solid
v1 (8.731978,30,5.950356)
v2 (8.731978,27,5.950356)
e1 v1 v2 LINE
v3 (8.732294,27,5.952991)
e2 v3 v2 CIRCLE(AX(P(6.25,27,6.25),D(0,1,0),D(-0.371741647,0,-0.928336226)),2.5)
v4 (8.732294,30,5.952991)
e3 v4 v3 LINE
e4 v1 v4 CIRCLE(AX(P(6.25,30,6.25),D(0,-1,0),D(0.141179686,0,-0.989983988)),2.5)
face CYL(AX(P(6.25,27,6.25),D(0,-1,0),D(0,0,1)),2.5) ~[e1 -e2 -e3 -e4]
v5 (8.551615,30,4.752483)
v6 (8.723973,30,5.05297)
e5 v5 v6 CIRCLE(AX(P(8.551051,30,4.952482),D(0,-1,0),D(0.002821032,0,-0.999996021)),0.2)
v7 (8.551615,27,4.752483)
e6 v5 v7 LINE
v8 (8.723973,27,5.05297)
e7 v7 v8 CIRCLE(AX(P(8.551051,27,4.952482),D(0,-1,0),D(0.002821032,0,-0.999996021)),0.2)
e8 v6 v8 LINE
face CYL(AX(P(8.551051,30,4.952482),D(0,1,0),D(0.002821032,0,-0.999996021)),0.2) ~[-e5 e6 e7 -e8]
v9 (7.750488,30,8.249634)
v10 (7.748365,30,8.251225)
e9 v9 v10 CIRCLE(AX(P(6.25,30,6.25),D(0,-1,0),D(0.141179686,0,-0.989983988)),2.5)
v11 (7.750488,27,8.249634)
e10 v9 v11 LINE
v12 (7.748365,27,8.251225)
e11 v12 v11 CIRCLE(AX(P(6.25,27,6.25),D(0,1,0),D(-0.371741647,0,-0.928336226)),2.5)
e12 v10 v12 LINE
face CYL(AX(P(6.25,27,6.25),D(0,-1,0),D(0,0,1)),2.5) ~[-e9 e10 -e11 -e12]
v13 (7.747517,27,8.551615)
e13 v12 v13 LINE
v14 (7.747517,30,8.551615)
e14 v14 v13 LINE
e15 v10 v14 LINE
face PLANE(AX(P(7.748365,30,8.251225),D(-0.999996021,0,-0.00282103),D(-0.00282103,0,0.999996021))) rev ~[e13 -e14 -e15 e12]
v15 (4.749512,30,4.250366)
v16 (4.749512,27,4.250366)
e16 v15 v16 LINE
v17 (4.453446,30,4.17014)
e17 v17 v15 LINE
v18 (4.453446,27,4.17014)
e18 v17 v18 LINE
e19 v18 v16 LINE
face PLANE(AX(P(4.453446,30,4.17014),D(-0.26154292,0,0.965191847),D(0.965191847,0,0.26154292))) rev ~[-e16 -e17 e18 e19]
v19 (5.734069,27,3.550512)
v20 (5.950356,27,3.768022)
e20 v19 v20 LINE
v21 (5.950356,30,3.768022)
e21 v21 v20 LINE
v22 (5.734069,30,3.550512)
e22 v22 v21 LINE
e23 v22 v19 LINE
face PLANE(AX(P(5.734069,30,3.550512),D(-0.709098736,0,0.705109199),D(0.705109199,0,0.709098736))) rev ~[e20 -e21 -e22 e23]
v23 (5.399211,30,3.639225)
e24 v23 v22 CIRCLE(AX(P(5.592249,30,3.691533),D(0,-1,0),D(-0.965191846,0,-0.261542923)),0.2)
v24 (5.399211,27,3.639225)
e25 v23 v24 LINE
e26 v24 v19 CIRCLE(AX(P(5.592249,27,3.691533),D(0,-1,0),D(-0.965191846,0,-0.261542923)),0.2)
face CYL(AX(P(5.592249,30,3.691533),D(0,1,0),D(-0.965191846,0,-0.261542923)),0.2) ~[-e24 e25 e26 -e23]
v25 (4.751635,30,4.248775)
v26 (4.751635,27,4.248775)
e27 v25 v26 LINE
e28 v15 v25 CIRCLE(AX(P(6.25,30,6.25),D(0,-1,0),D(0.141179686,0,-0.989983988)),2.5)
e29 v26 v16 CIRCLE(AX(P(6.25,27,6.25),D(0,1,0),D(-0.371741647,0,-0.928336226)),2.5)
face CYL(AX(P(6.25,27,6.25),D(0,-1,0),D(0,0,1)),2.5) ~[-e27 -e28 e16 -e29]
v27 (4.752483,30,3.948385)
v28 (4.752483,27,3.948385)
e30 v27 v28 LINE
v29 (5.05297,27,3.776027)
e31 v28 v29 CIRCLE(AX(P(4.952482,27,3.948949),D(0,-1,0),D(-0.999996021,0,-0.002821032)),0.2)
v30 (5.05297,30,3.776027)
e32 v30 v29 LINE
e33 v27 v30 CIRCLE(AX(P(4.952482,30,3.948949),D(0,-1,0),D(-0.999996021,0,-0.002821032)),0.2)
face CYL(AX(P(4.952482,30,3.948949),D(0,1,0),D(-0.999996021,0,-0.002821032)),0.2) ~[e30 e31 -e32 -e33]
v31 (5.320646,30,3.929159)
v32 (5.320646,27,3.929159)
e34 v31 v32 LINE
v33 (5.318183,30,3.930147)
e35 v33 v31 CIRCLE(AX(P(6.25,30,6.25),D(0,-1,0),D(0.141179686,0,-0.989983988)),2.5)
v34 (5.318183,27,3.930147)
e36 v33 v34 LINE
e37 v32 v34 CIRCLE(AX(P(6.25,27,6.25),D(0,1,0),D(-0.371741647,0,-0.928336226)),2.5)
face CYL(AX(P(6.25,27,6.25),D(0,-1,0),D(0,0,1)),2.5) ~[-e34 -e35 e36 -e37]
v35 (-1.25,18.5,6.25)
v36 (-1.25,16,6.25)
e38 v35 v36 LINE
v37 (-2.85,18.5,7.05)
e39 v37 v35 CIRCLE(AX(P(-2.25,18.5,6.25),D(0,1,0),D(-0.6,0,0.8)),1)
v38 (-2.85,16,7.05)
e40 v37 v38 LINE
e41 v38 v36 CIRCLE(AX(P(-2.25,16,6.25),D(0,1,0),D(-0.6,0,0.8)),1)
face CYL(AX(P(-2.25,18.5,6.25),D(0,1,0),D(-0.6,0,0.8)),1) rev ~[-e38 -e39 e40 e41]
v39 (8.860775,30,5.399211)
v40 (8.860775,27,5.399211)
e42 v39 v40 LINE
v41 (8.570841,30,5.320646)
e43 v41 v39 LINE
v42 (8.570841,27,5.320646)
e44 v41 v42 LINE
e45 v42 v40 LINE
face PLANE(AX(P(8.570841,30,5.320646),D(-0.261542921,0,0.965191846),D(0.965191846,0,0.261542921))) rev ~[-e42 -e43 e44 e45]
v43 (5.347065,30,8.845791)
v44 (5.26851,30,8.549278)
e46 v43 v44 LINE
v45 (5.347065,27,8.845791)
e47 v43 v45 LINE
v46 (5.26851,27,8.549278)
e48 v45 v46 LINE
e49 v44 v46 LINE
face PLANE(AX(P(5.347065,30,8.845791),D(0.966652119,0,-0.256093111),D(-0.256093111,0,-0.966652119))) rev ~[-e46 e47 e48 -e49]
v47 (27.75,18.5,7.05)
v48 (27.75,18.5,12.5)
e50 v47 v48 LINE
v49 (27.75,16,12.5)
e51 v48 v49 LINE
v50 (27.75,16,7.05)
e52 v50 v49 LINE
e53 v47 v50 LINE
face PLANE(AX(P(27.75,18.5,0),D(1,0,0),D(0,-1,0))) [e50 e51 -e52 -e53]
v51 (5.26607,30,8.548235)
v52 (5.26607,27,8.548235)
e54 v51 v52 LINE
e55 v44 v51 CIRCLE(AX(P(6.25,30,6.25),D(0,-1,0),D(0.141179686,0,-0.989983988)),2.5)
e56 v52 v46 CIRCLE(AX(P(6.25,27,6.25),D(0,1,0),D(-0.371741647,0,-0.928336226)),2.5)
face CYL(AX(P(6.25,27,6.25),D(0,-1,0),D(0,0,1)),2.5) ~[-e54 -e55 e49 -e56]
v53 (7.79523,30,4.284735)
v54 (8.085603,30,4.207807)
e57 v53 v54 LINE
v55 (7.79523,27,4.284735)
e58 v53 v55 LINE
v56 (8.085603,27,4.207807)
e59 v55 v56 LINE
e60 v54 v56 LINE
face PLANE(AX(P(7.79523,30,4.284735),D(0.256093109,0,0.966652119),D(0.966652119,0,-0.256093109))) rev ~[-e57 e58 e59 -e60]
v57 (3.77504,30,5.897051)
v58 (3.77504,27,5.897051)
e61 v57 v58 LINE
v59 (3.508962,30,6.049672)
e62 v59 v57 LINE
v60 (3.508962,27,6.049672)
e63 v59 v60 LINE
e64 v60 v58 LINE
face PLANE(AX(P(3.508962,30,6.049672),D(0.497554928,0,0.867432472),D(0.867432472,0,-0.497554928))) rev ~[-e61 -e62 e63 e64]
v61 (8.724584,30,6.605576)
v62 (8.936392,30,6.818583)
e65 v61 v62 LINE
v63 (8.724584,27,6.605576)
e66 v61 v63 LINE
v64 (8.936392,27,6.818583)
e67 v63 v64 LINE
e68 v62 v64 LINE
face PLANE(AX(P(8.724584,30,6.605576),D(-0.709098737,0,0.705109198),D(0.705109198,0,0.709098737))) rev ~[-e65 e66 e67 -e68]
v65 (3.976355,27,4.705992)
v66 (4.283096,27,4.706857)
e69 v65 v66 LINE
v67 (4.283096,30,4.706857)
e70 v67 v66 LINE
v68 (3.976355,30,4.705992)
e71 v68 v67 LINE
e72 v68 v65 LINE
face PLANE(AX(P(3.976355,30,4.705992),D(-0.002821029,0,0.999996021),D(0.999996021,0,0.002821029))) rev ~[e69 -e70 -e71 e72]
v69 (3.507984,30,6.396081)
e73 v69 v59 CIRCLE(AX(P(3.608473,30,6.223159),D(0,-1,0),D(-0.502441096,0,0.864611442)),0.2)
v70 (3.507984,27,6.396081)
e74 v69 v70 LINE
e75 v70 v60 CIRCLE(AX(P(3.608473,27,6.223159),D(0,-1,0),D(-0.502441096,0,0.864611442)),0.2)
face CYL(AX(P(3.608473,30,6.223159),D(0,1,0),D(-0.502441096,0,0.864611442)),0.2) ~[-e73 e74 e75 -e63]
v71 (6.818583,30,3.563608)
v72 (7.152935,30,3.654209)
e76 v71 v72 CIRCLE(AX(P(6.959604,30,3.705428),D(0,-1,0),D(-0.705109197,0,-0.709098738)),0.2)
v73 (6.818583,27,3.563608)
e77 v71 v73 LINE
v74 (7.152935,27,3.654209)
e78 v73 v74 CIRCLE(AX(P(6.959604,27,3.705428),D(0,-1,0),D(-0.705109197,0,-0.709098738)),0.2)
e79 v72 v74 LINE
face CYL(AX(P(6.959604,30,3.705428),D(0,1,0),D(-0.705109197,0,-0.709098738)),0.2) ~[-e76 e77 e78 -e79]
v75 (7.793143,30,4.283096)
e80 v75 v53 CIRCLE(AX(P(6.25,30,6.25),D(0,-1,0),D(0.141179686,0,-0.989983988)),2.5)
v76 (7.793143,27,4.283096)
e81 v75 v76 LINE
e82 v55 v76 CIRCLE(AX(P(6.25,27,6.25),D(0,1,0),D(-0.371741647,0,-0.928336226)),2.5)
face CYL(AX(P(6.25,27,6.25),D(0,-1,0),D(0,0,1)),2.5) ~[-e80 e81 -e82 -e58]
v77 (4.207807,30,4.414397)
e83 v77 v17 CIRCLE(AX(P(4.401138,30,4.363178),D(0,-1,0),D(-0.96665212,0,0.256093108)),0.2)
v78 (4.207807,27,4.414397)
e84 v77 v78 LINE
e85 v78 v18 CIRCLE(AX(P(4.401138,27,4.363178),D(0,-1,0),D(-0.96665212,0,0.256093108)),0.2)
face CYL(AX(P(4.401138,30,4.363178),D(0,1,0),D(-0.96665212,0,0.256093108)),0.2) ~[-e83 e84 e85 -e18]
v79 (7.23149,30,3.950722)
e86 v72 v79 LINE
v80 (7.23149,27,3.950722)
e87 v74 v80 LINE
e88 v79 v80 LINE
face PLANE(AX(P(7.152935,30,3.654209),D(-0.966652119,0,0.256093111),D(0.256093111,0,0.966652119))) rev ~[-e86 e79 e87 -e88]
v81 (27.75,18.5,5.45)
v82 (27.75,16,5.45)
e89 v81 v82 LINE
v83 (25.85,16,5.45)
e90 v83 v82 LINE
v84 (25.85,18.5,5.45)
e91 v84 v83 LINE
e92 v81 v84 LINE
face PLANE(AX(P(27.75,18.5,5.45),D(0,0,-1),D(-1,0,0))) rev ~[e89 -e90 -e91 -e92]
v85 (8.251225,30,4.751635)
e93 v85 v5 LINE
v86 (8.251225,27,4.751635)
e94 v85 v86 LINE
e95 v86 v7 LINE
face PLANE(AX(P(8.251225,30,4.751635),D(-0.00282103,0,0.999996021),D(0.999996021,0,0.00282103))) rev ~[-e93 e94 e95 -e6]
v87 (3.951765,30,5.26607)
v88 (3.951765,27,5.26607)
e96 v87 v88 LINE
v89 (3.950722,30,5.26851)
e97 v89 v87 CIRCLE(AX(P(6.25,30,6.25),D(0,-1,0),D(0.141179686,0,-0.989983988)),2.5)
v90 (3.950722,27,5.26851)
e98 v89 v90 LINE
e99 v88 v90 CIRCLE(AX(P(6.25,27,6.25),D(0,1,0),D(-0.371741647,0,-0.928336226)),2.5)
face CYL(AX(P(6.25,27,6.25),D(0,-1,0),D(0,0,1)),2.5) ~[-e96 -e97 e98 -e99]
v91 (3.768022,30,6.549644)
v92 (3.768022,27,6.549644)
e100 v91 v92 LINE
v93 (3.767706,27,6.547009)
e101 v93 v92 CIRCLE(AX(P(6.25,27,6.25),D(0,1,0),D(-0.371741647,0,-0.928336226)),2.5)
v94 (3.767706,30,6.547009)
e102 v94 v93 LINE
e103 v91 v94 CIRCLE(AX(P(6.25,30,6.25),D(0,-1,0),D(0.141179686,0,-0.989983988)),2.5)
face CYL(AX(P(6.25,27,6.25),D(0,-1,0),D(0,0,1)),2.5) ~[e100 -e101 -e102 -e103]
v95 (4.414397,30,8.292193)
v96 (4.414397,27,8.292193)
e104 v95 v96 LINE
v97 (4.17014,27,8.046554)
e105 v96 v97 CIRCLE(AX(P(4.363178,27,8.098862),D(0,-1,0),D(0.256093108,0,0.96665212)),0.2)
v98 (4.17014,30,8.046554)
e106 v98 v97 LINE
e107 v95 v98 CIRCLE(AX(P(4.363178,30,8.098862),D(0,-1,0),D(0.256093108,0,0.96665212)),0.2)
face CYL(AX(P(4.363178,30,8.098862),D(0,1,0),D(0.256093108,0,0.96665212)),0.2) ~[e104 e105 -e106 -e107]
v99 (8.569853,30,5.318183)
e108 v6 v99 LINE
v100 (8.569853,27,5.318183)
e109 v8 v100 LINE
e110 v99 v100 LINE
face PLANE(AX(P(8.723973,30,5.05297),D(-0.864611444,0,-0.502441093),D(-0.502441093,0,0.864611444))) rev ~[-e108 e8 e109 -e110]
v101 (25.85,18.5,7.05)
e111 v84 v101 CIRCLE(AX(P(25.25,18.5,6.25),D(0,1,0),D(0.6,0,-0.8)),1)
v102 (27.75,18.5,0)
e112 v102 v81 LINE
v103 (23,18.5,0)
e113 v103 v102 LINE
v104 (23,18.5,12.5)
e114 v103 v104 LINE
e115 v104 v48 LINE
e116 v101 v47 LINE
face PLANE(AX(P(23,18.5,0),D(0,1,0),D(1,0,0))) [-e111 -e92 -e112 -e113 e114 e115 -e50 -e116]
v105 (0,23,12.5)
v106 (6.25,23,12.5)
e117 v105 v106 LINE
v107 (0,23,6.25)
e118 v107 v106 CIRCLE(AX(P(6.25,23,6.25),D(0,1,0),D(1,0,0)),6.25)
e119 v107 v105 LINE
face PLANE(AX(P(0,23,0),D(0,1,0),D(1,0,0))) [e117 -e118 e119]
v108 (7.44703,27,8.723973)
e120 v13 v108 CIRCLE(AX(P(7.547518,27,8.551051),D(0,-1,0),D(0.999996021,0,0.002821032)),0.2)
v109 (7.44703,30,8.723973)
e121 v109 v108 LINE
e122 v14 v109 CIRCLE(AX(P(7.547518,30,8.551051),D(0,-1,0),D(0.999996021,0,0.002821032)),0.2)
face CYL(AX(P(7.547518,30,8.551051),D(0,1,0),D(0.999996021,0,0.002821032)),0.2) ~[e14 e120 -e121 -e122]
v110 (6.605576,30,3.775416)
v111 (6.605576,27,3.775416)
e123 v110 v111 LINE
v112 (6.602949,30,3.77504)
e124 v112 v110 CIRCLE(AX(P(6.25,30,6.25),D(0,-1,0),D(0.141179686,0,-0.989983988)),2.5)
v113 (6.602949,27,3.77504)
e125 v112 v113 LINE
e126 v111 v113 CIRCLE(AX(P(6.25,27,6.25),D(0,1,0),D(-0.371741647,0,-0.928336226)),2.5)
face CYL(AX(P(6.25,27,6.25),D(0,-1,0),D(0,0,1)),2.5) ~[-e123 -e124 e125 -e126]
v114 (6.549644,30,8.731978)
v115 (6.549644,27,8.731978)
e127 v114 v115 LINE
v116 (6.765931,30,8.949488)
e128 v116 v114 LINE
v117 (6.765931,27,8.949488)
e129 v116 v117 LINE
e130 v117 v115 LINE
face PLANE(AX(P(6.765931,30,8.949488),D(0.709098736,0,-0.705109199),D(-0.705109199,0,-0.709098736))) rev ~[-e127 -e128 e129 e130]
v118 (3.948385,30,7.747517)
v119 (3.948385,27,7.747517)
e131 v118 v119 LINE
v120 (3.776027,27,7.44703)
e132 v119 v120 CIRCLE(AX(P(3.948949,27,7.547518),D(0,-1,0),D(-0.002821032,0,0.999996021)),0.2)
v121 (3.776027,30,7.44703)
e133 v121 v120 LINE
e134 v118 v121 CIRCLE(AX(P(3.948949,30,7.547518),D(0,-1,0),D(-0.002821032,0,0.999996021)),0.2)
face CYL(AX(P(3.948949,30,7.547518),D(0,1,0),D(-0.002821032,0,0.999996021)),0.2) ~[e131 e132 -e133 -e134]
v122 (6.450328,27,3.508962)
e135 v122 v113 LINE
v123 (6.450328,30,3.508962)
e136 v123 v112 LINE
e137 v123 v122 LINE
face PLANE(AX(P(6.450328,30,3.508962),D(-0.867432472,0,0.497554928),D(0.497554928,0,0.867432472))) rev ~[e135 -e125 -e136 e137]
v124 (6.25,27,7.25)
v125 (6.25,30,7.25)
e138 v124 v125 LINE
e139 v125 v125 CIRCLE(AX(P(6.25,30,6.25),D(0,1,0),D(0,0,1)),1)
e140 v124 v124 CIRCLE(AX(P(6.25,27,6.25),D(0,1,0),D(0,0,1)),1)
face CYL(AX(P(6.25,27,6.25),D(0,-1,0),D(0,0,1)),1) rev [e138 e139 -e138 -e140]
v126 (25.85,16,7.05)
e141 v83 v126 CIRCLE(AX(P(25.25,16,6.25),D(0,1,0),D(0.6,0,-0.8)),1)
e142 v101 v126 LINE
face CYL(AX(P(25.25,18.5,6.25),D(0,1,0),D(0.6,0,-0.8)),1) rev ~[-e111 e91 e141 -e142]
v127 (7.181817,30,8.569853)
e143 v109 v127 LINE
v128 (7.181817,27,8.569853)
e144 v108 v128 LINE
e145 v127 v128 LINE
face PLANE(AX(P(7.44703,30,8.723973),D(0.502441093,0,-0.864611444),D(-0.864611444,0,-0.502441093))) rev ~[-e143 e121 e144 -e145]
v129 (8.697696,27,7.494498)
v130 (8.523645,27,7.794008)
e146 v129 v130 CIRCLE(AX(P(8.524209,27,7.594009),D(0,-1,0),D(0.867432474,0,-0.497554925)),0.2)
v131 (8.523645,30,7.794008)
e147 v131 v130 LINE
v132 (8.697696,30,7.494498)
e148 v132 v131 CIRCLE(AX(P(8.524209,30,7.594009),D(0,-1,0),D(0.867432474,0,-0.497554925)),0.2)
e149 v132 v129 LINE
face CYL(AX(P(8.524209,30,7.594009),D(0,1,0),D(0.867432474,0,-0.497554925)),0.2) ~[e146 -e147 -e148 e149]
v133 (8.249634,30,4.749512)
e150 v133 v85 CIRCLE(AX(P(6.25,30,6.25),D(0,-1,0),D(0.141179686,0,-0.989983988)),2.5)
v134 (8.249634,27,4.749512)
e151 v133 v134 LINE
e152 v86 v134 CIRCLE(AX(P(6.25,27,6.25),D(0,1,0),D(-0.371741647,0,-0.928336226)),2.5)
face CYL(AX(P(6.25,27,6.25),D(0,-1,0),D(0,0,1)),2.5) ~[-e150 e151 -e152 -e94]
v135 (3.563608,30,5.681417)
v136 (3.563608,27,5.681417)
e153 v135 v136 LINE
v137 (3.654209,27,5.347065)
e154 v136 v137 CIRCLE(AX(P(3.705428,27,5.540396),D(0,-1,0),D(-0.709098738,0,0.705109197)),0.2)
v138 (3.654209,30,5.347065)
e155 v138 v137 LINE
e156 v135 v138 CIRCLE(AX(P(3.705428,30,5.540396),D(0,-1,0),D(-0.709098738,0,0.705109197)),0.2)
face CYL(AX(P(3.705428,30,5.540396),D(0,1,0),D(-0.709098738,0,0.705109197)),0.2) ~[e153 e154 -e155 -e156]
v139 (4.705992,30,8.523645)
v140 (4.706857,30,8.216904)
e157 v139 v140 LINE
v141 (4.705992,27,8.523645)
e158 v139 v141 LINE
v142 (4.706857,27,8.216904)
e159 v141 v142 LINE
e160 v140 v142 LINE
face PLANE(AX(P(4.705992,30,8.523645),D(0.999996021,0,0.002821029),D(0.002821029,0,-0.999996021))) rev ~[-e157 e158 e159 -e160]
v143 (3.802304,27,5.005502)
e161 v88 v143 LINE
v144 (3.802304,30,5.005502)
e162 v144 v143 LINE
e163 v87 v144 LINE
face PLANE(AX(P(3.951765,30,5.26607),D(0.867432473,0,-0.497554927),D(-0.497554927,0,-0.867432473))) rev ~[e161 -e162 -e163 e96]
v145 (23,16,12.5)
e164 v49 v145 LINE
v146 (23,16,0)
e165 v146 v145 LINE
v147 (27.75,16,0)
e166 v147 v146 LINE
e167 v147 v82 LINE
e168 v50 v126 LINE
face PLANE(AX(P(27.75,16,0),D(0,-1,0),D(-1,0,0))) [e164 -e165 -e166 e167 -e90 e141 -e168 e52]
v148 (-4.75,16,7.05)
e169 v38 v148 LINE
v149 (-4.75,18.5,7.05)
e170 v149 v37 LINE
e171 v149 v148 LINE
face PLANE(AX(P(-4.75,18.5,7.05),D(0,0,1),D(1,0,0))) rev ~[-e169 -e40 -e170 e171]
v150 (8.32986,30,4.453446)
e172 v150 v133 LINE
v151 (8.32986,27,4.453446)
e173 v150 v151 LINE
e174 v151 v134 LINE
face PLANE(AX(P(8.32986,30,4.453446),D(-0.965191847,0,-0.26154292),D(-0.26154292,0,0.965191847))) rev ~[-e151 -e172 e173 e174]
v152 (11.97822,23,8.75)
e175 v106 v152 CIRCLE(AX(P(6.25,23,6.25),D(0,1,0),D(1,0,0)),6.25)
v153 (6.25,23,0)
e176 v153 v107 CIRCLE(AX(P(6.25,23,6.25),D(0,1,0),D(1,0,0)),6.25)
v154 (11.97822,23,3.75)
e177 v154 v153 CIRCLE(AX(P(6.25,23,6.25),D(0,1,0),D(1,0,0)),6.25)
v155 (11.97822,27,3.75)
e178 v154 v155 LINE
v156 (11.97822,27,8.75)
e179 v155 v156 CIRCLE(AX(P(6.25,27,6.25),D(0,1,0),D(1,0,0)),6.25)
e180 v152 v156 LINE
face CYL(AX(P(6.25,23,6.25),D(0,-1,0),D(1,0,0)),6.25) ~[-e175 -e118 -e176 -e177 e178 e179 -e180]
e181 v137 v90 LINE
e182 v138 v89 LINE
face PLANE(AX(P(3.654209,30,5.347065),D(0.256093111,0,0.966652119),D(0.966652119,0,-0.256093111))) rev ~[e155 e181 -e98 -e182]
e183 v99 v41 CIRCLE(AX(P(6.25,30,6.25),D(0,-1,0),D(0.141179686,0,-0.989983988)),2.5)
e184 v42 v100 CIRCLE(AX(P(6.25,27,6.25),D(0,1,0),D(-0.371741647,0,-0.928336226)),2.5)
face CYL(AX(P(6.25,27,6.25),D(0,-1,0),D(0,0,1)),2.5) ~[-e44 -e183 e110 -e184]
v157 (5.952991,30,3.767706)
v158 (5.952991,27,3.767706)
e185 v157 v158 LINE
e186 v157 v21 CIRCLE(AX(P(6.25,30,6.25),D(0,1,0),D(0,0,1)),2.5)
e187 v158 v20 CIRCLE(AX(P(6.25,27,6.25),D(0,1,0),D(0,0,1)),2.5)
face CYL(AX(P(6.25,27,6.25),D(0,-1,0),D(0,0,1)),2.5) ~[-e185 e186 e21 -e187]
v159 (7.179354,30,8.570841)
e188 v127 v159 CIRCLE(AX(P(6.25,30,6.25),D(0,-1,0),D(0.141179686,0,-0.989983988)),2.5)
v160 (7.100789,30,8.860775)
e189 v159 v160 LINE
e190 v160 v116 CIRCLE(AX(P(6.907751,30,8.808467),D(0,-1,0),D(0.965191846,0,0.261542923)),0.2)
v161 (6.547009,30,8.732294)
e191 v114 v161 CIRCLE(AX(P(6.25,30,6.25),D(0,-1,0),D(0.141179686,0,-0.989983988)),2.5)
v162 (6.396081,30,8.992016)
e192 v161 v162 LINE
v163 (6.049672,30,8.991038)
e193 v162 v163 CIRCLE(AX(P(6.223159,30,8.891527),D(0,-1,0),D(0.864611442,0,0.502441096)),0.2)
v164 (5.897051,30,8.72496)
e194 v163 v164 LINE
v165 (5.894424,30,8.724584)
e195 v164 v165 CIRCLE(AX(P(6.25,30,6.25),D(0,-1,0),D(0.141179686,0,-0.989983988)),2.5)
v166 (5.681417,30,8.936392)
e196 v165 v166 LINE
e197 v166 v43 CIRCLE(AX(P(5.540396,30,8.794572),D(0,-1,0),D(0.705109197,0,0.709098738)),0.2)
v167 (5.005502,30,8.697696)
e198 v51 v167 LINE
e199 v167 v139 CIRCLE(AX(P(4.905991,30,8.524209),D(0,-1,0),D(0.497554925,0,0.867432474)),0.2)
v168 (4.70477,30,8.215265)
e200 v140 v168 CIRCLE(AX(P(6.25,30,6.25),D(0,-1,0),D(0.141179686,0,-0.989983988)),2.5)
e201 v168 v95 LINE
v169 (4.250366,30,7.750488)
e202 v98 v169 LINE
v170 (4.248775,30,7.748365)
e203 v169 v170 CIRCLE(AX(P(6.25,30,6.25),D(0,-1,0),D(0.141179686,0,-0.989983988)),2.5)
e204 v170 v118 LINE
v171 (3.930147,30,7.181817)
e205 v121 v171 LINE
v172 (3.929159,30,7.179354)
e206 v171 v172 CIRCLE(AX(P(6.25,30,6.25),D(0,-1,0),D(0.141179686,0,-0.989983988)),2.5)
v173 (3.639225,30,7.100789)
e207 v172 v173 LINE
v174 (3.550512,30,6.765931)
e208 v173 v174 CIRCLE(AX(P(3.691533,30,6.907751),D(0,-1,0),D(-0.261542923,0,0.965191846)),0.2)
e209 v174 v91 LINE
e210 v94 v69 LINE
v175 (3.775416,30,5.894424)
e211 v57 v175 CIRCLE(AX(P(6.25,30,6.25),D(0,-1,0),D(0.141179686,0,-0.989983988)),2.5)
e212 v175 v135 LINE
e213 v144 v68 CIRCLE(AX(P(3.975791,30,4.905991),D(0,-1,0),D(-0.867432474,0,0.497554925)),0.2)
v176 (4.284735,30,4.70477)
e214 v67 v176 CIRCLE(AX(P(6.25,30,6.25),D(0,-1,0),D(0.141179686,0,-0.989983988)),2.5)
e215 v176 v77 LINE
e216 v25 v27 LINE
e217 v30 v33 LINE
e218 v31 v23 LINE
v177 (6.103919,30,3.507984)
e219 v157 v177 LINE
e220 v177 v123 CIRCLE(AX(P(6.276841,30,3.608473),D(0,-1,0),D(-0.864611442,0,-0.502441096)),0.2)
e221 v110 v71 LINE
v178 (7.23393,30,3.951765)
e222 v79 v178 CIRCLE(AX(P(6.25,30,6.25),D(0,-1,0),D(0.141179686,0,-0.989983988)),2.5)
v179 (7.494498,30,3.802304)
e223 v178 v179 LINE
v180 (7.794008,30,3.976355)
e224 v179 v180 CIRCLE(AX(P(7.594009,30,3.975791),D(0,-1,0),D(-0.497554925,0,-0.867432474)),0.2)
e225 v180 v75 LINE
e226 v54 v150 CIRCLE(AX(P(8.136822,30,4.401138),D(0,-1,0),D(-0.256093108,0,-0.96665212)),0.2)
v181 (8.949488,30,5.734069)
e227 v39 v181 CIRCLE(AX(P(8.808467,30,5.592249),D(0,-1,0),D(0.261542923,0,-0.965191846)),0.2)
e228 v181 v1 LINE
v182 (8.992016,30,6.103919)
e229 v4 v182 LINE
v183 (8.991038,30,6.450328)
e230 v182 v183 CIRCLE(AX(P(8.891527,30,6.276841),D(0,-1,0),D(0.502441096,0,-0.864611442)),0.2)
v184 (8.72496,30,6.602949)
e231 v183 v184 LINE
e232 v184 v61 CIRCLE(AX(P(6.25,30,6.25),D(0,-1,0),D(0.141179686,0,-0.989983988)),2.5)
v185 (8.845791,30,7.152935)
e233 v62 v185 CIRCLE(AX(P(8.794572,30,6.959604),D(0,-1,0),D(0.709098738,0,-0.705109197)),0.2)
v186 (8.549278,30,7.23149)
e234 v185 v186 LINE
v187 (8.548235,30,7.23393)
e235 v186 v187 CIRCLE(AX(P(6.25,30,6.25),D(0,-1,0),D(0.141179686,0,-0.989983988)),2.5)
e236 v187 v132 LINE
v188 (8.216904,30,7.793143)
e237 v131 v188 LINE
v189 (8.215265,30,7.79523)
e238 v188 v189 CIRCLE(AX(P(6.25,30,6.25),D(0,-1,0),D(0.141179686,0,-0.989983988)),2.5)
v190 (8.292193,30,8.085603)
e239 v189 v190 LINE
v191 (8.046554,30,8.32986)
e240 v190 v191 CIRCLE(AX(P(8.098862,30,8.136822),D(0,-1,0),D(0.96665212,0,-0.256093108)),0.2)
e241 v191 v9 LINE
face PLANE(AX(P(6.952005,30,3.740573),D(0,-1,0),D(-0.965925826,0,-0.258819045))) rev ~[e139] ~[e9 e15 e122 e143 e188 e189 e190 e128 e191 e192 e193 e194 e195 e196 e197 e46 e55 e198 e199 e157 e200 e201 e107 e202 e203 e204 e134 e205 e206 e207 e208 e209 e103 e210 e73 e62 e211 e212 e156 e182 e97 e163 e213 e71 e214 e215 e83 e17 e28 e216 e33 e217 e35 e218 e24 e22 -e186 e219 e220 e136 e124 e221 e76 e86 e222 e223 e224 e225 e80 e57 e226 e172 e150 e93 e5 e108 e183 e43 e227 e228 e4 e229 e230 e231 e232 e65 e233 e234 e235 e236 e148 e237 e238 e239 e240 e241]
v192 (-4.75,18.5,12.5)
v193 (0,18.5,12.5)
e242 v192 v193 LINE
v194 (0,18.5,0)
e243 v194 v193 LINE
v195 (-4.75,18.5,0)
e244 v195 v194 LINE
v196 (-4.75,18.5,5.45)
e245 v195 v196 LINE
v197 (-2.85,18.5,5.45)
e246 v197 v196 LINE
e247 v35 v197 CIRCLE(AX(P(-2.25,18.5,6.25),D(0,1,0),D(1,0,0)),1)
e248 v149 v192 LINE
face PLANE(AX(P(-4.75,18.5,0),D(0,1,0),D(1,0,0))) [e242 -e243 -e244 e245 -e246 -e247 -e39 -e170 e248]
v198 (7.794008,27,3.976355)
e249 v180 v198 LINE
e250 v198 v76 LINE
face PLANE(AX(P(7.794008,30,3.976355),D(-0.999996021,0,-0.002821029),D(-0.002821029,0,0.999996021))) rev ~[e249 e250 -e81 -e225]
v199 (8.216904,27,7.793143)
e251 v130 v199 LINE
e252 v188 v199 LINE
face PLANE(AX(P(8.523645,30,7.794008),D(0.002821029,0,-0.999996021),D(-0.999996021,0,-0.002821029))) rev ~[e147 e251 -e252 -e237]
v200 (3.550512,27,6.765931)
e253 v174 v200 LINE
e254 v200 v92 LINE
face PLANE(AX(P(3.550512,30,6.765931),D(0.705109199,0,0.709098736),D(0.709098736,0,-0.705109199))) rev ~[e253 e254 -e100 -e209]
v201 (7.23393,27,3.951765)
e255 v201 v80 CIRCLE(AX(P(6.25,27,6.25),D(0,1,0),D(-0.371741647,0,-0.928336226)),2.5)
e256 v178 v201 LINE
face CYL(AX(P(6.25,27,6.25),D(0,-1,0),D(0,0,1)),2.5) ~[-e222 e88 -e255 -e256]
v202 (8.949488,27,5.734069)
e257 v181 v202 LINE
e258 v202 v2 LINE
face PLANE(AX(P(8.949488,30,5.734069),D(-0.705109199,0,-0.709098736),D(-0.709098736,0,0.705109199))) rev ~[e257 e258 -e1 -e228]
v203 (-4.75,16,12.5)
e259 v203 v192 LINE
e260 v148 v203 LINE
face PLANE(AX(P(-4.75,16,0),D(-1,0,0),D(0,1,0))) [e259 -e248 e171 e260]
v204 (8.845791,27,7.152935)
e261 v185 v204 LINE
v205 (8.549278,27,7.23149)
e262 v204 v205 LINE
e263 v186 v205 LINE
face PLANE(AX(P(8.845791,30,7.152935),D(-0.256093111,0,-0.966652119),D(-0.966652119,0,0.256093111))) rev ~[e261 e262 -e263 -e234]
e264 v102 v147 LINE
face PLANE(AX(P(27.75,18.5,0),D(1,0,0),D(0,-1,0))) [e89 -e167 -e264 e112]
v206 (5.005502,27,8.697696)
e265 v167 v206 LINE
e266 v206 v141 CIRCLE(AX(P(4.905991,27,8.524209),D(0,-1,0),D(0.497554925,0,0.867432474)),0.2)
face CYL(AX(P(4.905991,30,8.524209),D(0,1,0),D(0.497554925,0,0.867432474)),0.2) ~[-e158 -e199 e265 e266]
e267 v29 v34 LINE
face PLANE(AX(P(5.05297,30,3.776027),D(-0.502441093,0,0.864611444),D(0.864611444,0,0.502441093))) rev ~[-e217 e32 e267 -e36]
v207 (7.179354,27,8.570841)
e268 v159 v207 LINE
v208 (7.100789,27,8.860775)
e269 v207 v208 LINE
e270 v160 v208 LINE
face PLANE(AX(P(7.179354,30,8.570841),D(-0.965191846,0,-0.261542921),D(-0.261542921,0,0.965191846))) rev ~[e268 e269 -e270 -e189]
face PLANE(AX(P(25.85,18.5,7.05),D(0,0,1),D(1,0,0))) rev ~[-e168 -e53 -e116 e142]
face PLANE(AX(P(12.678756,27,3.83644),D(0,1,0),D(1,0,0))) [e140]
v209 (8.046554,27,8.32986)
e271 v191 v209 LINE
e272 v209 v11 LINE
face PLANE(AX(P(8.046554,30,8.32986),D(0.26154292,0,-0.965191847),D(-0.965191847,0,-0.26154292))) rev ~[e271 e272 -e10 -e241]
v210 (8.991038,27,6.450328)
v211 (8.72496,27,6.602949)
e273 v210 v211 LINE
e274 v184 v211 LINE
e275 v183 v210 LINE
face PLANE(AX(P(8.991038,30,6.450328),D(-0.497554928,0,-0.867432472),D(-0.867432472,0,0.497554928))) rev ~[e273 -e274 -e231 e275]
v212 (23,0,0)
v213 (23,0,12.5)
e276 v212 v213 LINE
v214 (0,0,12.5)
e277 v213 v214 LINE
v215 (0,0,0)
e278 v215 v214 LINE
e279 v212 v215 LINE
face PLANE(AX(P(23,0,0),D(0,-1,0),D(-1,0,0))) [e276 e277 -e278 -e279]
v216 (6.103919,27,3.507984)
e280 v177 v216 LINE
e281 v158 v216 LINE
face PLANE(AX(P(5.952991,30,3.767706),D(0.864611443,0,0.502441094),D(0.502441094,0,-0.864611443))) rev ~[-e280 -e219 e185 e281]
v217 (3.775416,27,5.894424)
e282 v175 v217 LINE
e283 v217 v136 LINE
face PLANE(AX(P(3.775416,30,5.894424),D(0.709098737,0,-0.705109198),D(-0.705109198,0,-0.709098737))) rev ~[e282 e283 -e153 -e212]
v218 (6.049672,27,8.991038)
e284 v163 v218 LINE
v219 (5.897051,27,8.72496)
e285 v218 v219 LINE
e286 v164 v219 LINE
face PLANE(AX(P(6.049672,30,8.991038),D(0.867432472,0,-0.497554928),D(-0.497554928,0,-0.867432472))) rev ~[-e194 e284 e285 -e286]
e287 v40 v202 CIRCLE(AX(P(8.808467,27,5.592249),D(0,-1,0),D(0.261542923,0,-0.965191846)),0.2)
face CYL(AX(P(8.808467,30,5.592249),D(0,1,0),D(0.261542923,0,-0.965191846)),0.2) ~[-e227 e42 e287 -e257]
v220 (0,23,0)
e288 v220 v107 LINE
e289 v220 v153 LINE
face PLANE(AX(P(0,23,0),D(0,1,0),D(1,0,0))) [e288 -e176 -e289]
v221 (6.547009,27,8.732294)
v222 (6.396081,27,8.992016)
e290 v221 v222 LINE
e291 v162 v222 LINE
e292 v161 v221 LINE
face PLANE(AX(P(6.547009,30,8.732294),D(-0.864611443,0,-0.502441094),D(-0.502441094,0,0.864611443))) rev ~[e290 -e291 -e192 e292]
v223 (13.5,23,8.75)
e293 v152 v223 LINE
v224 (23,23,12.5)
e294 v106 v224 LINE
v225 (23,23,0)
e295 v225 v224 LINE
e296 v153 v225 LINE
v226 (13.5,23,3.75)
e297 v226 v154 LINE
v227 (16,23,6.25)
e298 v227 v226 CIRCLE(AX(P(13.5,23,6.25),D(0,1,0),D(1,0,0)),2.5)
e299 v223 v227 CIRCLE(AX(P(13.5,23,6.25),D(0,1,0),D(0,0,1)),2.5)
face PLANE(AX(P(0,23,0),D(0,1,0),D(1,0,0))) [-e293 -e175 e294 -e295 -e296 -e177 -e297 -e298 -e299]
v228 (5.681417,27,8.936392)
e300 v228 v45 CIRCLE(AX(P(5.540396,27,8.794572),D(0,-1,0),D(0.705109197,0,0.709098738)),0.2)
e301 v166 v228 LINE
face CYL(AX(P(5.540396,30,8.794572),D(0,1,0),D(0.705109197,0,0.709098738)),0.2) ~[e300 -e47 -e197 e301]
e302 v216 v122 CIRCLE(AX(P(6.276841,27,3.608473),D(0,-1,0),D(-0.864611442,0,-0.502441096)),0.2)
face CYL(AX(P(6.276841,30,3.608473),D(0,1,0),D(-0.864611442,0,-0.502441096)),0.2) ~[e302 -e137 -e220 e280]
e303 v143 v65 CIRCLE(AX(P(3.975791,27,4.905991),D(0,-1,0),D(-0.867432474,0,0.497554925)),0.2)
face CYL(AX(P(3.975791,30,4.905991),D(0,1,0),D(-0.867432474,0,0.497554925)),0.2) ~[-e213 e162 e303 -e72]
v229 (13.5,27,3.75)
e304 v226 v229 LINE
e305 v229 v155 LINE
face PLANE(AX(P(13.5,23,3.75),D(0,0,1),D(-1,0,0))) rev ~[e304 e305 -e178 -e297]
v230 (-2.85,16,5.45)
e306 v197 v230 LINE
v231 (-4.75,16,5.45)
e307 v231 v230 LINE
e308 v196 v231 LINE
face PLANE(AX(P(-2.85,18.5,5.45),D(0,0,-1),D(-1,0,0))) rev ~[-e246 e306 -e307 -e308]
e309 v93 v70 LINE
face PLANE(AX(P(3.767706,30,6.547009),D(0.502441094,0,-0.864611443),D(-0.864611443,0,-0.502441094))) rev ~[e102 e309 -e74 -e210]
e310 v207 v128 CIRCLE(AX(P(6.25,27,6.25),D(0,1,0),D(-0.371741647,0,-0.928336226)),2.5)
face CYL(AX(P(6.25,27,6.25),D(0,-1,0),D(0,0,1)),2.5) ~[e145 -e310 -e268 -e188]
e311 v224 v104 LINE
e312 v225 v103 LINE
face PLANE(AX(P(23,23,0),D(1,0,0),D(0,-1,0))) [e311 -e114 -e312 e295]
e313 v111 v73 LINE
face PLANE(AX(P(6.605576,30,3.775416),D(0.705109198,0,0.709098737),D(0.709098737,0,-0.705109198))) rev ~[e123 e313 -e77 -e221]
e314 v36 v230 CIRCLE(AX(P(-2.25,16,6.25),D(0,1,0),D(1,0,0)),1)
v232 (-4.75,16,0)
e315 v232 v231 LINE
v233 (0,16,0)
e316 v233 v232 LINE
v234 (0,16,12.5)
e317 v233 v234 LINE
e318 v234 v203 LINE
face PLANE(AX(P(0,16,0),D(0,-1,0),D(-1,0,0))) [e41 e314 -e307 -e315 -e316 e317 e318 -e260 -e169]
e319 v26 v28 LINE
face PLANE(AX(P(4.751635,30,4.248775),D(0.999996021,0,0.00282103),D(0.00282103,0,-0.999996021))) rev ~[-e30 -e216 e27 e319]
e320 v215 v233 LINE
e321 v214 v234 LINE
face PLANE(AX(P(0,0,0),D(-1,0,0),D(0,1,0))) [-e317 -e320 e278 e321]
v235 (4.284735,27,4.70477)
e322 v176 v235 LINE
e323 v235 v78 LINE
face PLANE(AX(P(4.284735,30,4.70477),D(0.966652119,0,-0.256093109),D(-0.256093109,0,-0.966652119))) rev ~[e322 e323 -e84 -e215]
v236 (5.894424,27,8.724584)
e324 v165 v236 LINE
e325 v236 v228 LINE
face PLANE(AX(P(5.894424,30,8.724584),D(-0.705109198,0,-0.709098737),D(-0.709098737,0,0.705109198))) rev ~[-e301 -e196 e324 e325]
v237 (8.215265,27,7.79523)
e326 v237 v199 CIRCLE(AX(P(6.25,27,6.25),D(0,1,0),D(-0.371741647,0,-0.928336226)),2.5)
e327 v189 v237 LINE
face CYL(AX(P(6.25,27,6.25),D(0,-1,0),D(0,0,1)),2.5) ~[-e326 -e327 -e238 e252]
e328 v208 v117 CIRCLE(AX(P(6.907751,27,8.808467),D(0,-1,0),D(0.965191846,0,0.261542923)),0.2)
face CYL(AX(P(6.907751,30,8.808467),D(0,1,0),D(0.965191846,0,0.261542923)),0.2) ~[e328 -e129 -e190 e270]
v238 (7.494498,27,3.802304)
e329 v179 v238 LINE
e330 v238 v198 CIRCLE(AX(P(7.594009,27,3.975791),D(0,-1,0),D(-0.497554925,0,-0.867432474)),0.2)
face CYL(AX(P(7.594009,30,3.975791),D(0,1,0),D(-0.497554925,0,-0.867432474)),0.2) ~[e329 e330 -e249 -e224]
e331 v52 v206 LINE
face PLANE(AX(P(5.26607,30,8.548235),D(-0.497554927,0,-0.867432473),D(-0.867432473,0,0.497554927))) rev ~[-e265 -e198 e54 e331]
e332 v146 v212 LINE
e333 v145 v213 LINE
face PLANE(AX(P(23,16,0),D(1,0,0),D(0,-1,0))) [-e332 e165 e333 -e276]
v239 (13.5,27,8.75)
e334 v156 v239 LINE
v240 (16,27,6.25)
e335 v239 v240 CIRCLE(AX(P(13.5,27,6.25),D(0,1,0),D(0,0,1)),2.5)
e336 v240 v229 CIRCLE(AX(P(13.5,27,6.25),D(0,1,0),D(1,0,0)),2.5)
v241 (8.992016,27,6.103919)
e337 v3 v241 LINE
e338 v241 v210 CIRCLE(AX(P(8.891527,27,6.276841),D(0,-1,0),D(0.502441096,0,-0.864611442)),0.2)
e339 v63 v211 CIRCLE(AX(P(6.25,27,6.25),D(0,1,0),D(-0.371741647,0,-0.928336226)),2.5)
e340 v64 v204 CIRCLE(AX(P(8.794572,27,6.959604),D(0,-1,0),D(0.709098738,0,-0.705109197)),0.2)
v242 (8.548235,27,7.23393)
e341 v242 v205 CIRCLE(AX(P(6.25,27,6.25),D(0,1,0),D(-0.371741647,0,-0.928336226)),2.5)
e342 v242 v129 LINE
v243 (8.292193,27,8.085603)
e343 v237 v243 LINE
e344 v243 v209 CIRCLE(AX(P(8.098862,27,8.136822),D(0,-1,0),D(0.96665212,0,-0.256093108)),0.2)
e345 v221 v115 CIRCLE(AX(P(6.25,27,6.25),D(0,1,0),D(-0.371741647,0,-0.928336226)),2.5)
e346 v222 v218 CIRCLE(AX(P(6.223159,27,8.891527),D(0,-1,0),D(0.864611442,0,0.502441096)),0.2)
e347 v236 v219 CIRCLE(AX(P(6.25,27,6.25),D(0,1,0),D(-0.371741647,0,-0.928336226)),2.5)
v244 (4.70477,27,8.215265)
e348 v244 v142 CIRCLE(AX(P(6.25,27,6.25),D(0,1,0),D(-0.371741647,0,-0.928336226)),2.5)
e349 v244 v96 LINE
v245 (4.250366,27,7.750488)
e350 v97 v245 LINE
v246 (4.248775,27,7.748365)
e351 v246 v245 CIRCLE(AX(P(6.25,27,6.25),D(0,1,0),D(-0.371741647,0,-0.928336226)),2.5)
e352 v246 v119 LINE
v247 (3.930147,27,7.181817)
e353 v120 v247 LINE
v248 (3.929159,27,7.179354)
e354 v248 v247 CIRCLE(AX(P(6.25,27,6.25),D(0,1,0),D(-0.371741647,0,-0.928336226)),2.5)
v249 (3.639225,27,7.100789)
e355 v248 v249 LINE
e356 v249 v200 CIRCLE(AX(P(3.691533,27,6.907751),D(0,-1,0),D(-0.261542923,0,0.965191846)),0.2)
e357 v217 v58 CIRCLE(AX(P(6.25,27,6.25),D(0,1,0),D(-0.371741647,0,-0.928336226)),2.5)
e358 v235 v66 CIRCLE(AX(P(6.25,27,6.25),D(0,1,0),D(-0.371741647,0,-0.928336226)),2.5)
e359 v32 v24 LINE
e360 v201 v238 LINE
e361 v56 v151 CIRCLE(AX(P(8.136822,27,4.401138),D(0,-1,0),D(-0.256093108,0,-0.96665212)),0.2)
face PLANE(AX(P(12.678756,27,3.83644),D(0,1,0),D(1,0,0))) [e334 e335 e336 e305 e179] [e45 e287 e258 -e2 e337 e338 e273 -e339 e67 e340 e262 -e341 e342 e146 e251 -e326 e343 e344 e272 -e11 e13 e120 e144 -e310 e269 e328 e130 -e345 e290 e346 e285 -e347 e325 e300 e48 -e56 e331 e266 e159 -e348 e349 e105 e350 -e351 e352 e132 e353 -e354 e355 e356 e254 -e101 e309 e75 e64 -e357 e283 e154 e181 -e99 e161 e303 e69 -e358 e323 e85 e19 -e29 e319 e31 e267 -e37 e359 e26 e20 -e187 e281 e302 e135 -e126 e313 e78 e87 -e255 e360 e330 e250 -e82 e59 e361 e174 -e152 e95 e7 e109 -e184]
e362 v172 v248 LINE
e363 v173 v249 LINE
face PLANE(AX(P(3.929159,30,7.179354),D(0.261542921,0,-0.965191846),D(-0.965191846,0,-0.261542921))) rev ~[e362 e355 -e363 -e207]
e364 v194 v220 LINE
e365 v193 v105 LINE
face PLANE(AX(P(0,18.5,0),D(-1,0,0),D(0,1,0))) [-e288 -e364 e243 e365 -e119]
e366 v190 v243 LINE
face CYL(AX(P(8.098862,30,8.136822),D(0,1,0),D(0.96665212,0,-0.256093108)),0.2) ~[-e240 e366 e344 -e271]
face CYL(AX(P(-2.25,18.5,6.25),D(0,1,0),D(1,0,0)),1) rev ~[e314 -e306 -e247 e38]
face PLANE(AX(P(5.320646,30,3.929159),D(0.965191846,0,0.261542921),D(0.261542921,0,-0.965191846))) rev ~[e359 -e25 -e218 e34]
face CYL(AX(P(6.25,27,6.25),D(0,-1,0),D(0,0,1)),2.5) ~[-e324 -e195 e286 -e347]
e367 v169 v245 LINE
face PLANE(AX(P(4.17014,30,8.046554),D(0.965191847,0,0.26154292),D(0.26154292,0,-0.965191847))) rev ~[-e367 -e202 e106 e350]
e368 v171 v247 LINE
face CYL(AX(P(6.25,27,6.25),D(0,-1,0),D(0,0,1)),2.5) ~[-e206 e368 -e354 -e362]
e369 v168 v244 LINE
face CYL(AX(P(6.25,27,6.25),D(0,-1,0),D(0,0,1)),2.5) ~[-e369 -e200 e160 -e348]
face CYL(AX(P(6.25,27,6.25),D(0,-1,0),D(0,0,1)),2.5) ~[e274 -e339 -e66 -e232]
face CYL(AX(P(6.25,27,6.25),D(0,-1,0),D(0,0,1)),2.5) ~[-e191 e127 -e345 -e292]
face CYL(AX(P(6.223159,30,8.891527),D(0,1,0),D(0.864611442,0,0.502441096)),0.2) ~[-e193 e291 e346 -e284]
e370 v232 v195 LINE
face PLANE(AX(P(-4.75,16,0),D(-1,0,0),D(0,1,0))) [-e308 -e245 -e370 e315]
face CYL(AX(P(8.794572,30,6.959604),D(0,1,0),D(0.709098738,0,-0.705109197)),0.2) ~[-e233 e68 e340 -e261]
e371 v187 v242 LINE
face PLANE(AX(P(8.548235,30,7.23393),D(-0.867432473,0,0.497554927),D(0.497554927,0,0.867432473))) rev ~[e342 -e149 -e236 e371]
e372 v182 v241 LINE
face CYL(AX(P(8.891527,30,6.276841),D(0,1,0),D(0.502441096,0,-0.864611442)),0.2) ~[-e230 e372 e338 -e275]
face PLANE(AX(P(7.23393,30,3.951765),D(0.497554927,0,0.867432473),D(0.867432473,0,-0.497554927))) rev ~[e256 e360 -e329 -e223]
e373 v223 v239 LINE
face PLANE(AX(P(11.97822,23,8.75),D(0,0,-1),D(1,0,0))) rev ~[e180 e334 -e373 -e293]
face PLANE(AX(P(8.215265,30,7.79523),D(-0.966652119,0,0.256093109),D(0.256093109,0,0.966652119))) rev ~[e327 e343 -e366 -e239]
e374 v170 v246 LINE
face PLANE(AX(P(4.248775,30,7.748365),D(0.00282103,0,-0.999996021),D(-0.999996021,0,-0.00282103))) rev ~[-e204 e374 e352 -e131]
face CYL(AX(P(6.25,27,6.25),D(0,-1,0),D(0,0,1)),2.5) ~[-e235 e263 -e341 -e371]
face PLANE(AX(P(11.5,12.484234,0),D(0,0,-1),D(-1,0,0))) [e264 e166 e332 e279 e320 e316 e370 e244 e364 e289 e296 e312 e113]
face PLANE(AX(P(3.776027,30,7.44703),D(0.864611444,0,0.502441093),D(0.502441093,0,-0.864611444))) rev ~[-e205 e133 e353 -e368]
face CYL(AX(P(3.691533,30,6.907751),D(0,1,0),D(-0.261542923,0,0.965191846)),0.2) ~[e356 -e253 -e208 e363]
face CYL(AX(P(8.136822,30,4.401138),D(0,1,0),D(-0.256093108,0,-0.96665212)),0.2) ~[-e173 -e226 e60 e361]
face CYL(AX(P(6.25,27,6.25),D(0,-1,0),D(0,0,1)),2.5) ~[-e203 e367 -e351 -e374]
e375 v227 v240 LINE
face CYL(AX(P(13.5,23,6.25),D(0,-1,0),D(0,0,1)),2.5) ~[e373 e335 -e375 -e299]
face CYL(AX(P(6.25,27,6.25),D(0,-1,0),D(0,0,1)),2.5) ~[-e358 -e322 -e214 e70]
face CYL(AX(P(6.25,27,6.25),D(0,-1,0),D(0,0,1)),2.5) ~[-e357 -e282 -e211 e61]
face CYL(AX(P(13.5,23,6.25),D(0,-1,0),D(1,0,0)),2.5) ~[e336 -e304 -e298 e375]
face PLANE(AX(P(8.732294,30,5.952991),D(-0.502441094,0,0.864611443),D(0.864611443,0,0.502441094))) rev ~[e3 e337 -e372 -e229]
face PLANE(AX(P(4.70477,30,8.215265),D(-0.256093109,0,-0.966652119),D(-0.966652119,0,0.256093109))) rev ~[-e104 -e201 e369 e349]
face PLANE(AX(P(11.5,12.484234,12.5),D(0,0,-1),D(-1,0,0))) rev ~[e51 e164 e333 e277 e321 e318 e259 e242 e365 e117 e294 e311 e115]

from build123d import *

# Parameters (mm, degrees)
RESSALTO_EXTRUS_O1_DEPTH = 12.5
CORTE_EXTRUS_O1_DEPTH    = 36.616885041
ESBO_O3_R                = 6.25
ESBO_O3_R_2              = 2.5
RESSALTO_EXTRUS_O3_DEPTH = 4
ESBO_O4_R                = 2.5
ESBO_O4_R_2              = 1
RESSALTO_EXTRUS_O4_DEPTH = 3
RESSALTO_EXTRUS_O5_DEPTH = 3
PADR_OCIRCULAR1_COUNT    = 24


with BuildPart() as part:
    # Esboço1 → Ressalto-extrusão1 (new body)
    with BuildSketch(Plane.XY):
        Polygon((0, 0), (0, 16), (-4.75, 16), (-4.75, 18.5), (0, 18.5), (0, 23), (23, 23), (23, 18.5), (27.75, 18.5), (27.75, 16), (23, 16), (23, 0), align=None)
    extrude(amount=RESSALTO_EXTRUS_O1_DEPTH)

    # Esboço2 → Corte-extrusão1 (cut, through all)
    with BuildSketch(Plane(origin=(0, 18.5, 0), x_dir=(1, 0, 0), z_dir=(0, 1, 0))):
        with BuildLine():
            ThreePointArc((-2.85, -7.05), (-3.25, -6.25), (-2.85, -5.45))
            Line((-2.85, -5.45), (-4.75, -5.45))
            Line((-4.75, -5.45), (-4.75, -7.05))
            Line((-4.75, -7.05), (-2.85, -7.05))
        make_face()
        with BuildLine():
            ThreePointArc((-1.25, -6.25), (-1.802786405, -5.355572809), (-2.85, -5.45))
            Line((-2.85, -5.45), (-2.85, -7.05))
            ThreePointArc((-2.85, -7.05), (-1.802786405, -7.144427191), (-1.25, -6.25))
        make_face()
        with BuildLine():
            Line((-2.85, -7.05), (-2.85, -5.45))
            ThreePointArc((-2.85, -5.45), (-3.25, -6.25), (-2.85, -7.05))
        make_face()
        with BuildLine():
            ThreePointArc((26.25, -6.25), (26.144427191, -5.802786405), (25.85, -5.45))
            Line((25.85, -5.45), (25.85, -7.05))
            ThreePointArc((25.85, -7.05), (26.144427191, -6.697213595), (26.25, -6.25))
        make_face()
        with BuildLine():
            Line((25.85, -7.05), (25.85, -5.45))
            ThreePointArc((25.85, -5.45), (24.25, -6.25), (25.85, -7.05))
        make_face()
        with BuildLine():
            Line((27.75, -5.45), (25.85, -5.45))
            ThreePointArc((25.85, -5.45), (26.144427191, -5.802786405), (26.25, -6.25))
            ThreePointArc((26.25, -6.25), (26.144427191, -6.697213595), (25.85, -7.05))
            Line((25.85, -7.05), (27.75, -7.05))
            Line((27.75, -7.05), (27.75, -5.45))
        make_face()
    extrude(amount=-CORTE_EXTRUS_O1_DEPTH, mode=Mode.SUBTRACT)

    # Esboço3 → Ressalto-extrusão3 (add)
    with BuildSketch(Plane(origin=(0, 23, 0), x_dir=(1, 0, 0), z_dir=(0, 1, 0))):
        with BuildLine():
            ThreePointArc((12.137931034, -4.153629772), (12.789692169, -3.8530305), (13.5, -3.75))
            Line((13.5, -3.75), (11.978219619, -3.75))
            ThreePointArc((11.978219619, -3.75), (12.061580529, -3.95042792), (12.137931034, -4.153629772))
        make_face()
        with BuildLine():
            Line((11.978219619, -8.75), (13.5, -8.75))
            ThreePointArc((13.5, -8.75), (12.789692169, -8.6469695), (12.137931034, -8.346370228))
            ThreePointArc((12.137931034, -8.346370228), (12.061580529, -8.54957208), (11.978219619, -8.75))
        make_face()
        with BuildLine():
            ThreePointArc((12.137931034, -8.346370228), (12.789692169, -8.6469695), (13.5, -8.75))
            Line((13.5, -8.75), (13.5, -3.75))
            ThreePointArc((13.5, -3.75), (12.789692169, -3.8530305), (12.137931034, -4.153629772))
            ThreePointArc((12.137931034, -4.153629772), (12.408817621, -5.186296321), (12.5, -6.25))
            ThreePointArc((12.5, -6.25), (12.408817621, -7.313703679), (12.137931034, -8.346370228))
        make_face()
        with BuildLine():
            Line((13.5, -3.75), (13.5, -8.75))
            ThreePointArc((13.5, -8.75), (15.267766953, -8.017766953), (16, -6.25))
            ThreePointArc((16, -6.25), (15.267766953, -4.482233047), (13.5, -3.75))
        make_face()
        with Locations((6.25, -6.25)):
            Circle(ESBO_O3_R)
        with Locations((13.5, -6.25)):
            Circle(ESBO_O3_R_2)
        with BuildLine():
            Line((8.733610526, -8.75), (11.978219619, -8.75))
            ThreePointArc((11.978219619, -8.75), (12.061580529, -8.54957208), (12.137931034, -8.346370228))
            ThreePointArc((12.137931034, -8.346370228), (11, -6.25), (12.137931034, -4.153629772))
            ThreePointArc((12.137931034, -4.153629772), (12.061580529, -3.95042792), (11.978219619, -3.75))
            Line((11.978219619, -3.75), (8.733610526, -3.75))
            Line((8.733610526, -3.75), (8.733610526, -8.75))
        make_face()
        with BuildLine():
            ThreePointArc((11.978219619, -3.75), (0, -6.25), (11.978219619, -8.75))
            Line((11.978219619, -8.75), (8.733610526, -8.75))
            Line((8.733610526, -8.75), (8.733610526, -3.75))
            Line((8.733610526, -3.75), (11.978219619, -3.75))
        make_face()
    extrude(amount=RESSALTO_EXTRUS_O3_DEPTH)

    # Esboço4 → Ressalto-extrusão4 (add)
    with BuildSketch(Plane(origin=(0, 27, 0), x_dir=(1, 0, 0), z_dir=(0, 1, 0))):
        with Locations(Location((6.25, -6.25, 0), (0, 0, 270))):
            Circle(ESBO_O4_R)
        with Locations(Location((6.25, -6.25, 0), (0, 0, 270))):
            Circle(ESBO_O4_R_2, mode=Mode.SUBTRACT)
    extrude(amount=RESSALTO_EXTRUS_O4_DEPTH)

    # Esboço5 → Ressalto-extrusão5 (add)
    with BuildSketch(Plane(origin=(0, 30, 0), x_dir=(1, 0, 0), z_dir=(0, 1, 0))):
        with BuildLine():
            Line((5.952990595, -3.767705615), (6.103919204, -3.507984418))
            ThreePointArc((6.103919204, -3.507984418), (6.277405699, -3.408473433), (6.450327987, -3.508961652))
            Line((6.450327987, -3.508961652), (6.602949214, -3.77504003))
            Line((6.602949214, -3.77504003), (5.952990595, -3.767705615))
        make_face()
    ressalto_extrus_o5 = extrude(amount=-RESSALTO_EXTRUS_O5_DEPTH)

    # PadrãoCircular1: Ressalto-extrusão5 ×24 about axis
    padr_ocircular1_axis = Axis((6.25, 0, 6.25), (0, 1, 0))
    for i in range(1, PADR_OCIRCULAR1_COUNT):
        add(ressalto_extrus_o5.rotate(padr_ocircular1_axis, i * 360 / PADR_OCIRCULAR1_COUNT))


solid = part.part
